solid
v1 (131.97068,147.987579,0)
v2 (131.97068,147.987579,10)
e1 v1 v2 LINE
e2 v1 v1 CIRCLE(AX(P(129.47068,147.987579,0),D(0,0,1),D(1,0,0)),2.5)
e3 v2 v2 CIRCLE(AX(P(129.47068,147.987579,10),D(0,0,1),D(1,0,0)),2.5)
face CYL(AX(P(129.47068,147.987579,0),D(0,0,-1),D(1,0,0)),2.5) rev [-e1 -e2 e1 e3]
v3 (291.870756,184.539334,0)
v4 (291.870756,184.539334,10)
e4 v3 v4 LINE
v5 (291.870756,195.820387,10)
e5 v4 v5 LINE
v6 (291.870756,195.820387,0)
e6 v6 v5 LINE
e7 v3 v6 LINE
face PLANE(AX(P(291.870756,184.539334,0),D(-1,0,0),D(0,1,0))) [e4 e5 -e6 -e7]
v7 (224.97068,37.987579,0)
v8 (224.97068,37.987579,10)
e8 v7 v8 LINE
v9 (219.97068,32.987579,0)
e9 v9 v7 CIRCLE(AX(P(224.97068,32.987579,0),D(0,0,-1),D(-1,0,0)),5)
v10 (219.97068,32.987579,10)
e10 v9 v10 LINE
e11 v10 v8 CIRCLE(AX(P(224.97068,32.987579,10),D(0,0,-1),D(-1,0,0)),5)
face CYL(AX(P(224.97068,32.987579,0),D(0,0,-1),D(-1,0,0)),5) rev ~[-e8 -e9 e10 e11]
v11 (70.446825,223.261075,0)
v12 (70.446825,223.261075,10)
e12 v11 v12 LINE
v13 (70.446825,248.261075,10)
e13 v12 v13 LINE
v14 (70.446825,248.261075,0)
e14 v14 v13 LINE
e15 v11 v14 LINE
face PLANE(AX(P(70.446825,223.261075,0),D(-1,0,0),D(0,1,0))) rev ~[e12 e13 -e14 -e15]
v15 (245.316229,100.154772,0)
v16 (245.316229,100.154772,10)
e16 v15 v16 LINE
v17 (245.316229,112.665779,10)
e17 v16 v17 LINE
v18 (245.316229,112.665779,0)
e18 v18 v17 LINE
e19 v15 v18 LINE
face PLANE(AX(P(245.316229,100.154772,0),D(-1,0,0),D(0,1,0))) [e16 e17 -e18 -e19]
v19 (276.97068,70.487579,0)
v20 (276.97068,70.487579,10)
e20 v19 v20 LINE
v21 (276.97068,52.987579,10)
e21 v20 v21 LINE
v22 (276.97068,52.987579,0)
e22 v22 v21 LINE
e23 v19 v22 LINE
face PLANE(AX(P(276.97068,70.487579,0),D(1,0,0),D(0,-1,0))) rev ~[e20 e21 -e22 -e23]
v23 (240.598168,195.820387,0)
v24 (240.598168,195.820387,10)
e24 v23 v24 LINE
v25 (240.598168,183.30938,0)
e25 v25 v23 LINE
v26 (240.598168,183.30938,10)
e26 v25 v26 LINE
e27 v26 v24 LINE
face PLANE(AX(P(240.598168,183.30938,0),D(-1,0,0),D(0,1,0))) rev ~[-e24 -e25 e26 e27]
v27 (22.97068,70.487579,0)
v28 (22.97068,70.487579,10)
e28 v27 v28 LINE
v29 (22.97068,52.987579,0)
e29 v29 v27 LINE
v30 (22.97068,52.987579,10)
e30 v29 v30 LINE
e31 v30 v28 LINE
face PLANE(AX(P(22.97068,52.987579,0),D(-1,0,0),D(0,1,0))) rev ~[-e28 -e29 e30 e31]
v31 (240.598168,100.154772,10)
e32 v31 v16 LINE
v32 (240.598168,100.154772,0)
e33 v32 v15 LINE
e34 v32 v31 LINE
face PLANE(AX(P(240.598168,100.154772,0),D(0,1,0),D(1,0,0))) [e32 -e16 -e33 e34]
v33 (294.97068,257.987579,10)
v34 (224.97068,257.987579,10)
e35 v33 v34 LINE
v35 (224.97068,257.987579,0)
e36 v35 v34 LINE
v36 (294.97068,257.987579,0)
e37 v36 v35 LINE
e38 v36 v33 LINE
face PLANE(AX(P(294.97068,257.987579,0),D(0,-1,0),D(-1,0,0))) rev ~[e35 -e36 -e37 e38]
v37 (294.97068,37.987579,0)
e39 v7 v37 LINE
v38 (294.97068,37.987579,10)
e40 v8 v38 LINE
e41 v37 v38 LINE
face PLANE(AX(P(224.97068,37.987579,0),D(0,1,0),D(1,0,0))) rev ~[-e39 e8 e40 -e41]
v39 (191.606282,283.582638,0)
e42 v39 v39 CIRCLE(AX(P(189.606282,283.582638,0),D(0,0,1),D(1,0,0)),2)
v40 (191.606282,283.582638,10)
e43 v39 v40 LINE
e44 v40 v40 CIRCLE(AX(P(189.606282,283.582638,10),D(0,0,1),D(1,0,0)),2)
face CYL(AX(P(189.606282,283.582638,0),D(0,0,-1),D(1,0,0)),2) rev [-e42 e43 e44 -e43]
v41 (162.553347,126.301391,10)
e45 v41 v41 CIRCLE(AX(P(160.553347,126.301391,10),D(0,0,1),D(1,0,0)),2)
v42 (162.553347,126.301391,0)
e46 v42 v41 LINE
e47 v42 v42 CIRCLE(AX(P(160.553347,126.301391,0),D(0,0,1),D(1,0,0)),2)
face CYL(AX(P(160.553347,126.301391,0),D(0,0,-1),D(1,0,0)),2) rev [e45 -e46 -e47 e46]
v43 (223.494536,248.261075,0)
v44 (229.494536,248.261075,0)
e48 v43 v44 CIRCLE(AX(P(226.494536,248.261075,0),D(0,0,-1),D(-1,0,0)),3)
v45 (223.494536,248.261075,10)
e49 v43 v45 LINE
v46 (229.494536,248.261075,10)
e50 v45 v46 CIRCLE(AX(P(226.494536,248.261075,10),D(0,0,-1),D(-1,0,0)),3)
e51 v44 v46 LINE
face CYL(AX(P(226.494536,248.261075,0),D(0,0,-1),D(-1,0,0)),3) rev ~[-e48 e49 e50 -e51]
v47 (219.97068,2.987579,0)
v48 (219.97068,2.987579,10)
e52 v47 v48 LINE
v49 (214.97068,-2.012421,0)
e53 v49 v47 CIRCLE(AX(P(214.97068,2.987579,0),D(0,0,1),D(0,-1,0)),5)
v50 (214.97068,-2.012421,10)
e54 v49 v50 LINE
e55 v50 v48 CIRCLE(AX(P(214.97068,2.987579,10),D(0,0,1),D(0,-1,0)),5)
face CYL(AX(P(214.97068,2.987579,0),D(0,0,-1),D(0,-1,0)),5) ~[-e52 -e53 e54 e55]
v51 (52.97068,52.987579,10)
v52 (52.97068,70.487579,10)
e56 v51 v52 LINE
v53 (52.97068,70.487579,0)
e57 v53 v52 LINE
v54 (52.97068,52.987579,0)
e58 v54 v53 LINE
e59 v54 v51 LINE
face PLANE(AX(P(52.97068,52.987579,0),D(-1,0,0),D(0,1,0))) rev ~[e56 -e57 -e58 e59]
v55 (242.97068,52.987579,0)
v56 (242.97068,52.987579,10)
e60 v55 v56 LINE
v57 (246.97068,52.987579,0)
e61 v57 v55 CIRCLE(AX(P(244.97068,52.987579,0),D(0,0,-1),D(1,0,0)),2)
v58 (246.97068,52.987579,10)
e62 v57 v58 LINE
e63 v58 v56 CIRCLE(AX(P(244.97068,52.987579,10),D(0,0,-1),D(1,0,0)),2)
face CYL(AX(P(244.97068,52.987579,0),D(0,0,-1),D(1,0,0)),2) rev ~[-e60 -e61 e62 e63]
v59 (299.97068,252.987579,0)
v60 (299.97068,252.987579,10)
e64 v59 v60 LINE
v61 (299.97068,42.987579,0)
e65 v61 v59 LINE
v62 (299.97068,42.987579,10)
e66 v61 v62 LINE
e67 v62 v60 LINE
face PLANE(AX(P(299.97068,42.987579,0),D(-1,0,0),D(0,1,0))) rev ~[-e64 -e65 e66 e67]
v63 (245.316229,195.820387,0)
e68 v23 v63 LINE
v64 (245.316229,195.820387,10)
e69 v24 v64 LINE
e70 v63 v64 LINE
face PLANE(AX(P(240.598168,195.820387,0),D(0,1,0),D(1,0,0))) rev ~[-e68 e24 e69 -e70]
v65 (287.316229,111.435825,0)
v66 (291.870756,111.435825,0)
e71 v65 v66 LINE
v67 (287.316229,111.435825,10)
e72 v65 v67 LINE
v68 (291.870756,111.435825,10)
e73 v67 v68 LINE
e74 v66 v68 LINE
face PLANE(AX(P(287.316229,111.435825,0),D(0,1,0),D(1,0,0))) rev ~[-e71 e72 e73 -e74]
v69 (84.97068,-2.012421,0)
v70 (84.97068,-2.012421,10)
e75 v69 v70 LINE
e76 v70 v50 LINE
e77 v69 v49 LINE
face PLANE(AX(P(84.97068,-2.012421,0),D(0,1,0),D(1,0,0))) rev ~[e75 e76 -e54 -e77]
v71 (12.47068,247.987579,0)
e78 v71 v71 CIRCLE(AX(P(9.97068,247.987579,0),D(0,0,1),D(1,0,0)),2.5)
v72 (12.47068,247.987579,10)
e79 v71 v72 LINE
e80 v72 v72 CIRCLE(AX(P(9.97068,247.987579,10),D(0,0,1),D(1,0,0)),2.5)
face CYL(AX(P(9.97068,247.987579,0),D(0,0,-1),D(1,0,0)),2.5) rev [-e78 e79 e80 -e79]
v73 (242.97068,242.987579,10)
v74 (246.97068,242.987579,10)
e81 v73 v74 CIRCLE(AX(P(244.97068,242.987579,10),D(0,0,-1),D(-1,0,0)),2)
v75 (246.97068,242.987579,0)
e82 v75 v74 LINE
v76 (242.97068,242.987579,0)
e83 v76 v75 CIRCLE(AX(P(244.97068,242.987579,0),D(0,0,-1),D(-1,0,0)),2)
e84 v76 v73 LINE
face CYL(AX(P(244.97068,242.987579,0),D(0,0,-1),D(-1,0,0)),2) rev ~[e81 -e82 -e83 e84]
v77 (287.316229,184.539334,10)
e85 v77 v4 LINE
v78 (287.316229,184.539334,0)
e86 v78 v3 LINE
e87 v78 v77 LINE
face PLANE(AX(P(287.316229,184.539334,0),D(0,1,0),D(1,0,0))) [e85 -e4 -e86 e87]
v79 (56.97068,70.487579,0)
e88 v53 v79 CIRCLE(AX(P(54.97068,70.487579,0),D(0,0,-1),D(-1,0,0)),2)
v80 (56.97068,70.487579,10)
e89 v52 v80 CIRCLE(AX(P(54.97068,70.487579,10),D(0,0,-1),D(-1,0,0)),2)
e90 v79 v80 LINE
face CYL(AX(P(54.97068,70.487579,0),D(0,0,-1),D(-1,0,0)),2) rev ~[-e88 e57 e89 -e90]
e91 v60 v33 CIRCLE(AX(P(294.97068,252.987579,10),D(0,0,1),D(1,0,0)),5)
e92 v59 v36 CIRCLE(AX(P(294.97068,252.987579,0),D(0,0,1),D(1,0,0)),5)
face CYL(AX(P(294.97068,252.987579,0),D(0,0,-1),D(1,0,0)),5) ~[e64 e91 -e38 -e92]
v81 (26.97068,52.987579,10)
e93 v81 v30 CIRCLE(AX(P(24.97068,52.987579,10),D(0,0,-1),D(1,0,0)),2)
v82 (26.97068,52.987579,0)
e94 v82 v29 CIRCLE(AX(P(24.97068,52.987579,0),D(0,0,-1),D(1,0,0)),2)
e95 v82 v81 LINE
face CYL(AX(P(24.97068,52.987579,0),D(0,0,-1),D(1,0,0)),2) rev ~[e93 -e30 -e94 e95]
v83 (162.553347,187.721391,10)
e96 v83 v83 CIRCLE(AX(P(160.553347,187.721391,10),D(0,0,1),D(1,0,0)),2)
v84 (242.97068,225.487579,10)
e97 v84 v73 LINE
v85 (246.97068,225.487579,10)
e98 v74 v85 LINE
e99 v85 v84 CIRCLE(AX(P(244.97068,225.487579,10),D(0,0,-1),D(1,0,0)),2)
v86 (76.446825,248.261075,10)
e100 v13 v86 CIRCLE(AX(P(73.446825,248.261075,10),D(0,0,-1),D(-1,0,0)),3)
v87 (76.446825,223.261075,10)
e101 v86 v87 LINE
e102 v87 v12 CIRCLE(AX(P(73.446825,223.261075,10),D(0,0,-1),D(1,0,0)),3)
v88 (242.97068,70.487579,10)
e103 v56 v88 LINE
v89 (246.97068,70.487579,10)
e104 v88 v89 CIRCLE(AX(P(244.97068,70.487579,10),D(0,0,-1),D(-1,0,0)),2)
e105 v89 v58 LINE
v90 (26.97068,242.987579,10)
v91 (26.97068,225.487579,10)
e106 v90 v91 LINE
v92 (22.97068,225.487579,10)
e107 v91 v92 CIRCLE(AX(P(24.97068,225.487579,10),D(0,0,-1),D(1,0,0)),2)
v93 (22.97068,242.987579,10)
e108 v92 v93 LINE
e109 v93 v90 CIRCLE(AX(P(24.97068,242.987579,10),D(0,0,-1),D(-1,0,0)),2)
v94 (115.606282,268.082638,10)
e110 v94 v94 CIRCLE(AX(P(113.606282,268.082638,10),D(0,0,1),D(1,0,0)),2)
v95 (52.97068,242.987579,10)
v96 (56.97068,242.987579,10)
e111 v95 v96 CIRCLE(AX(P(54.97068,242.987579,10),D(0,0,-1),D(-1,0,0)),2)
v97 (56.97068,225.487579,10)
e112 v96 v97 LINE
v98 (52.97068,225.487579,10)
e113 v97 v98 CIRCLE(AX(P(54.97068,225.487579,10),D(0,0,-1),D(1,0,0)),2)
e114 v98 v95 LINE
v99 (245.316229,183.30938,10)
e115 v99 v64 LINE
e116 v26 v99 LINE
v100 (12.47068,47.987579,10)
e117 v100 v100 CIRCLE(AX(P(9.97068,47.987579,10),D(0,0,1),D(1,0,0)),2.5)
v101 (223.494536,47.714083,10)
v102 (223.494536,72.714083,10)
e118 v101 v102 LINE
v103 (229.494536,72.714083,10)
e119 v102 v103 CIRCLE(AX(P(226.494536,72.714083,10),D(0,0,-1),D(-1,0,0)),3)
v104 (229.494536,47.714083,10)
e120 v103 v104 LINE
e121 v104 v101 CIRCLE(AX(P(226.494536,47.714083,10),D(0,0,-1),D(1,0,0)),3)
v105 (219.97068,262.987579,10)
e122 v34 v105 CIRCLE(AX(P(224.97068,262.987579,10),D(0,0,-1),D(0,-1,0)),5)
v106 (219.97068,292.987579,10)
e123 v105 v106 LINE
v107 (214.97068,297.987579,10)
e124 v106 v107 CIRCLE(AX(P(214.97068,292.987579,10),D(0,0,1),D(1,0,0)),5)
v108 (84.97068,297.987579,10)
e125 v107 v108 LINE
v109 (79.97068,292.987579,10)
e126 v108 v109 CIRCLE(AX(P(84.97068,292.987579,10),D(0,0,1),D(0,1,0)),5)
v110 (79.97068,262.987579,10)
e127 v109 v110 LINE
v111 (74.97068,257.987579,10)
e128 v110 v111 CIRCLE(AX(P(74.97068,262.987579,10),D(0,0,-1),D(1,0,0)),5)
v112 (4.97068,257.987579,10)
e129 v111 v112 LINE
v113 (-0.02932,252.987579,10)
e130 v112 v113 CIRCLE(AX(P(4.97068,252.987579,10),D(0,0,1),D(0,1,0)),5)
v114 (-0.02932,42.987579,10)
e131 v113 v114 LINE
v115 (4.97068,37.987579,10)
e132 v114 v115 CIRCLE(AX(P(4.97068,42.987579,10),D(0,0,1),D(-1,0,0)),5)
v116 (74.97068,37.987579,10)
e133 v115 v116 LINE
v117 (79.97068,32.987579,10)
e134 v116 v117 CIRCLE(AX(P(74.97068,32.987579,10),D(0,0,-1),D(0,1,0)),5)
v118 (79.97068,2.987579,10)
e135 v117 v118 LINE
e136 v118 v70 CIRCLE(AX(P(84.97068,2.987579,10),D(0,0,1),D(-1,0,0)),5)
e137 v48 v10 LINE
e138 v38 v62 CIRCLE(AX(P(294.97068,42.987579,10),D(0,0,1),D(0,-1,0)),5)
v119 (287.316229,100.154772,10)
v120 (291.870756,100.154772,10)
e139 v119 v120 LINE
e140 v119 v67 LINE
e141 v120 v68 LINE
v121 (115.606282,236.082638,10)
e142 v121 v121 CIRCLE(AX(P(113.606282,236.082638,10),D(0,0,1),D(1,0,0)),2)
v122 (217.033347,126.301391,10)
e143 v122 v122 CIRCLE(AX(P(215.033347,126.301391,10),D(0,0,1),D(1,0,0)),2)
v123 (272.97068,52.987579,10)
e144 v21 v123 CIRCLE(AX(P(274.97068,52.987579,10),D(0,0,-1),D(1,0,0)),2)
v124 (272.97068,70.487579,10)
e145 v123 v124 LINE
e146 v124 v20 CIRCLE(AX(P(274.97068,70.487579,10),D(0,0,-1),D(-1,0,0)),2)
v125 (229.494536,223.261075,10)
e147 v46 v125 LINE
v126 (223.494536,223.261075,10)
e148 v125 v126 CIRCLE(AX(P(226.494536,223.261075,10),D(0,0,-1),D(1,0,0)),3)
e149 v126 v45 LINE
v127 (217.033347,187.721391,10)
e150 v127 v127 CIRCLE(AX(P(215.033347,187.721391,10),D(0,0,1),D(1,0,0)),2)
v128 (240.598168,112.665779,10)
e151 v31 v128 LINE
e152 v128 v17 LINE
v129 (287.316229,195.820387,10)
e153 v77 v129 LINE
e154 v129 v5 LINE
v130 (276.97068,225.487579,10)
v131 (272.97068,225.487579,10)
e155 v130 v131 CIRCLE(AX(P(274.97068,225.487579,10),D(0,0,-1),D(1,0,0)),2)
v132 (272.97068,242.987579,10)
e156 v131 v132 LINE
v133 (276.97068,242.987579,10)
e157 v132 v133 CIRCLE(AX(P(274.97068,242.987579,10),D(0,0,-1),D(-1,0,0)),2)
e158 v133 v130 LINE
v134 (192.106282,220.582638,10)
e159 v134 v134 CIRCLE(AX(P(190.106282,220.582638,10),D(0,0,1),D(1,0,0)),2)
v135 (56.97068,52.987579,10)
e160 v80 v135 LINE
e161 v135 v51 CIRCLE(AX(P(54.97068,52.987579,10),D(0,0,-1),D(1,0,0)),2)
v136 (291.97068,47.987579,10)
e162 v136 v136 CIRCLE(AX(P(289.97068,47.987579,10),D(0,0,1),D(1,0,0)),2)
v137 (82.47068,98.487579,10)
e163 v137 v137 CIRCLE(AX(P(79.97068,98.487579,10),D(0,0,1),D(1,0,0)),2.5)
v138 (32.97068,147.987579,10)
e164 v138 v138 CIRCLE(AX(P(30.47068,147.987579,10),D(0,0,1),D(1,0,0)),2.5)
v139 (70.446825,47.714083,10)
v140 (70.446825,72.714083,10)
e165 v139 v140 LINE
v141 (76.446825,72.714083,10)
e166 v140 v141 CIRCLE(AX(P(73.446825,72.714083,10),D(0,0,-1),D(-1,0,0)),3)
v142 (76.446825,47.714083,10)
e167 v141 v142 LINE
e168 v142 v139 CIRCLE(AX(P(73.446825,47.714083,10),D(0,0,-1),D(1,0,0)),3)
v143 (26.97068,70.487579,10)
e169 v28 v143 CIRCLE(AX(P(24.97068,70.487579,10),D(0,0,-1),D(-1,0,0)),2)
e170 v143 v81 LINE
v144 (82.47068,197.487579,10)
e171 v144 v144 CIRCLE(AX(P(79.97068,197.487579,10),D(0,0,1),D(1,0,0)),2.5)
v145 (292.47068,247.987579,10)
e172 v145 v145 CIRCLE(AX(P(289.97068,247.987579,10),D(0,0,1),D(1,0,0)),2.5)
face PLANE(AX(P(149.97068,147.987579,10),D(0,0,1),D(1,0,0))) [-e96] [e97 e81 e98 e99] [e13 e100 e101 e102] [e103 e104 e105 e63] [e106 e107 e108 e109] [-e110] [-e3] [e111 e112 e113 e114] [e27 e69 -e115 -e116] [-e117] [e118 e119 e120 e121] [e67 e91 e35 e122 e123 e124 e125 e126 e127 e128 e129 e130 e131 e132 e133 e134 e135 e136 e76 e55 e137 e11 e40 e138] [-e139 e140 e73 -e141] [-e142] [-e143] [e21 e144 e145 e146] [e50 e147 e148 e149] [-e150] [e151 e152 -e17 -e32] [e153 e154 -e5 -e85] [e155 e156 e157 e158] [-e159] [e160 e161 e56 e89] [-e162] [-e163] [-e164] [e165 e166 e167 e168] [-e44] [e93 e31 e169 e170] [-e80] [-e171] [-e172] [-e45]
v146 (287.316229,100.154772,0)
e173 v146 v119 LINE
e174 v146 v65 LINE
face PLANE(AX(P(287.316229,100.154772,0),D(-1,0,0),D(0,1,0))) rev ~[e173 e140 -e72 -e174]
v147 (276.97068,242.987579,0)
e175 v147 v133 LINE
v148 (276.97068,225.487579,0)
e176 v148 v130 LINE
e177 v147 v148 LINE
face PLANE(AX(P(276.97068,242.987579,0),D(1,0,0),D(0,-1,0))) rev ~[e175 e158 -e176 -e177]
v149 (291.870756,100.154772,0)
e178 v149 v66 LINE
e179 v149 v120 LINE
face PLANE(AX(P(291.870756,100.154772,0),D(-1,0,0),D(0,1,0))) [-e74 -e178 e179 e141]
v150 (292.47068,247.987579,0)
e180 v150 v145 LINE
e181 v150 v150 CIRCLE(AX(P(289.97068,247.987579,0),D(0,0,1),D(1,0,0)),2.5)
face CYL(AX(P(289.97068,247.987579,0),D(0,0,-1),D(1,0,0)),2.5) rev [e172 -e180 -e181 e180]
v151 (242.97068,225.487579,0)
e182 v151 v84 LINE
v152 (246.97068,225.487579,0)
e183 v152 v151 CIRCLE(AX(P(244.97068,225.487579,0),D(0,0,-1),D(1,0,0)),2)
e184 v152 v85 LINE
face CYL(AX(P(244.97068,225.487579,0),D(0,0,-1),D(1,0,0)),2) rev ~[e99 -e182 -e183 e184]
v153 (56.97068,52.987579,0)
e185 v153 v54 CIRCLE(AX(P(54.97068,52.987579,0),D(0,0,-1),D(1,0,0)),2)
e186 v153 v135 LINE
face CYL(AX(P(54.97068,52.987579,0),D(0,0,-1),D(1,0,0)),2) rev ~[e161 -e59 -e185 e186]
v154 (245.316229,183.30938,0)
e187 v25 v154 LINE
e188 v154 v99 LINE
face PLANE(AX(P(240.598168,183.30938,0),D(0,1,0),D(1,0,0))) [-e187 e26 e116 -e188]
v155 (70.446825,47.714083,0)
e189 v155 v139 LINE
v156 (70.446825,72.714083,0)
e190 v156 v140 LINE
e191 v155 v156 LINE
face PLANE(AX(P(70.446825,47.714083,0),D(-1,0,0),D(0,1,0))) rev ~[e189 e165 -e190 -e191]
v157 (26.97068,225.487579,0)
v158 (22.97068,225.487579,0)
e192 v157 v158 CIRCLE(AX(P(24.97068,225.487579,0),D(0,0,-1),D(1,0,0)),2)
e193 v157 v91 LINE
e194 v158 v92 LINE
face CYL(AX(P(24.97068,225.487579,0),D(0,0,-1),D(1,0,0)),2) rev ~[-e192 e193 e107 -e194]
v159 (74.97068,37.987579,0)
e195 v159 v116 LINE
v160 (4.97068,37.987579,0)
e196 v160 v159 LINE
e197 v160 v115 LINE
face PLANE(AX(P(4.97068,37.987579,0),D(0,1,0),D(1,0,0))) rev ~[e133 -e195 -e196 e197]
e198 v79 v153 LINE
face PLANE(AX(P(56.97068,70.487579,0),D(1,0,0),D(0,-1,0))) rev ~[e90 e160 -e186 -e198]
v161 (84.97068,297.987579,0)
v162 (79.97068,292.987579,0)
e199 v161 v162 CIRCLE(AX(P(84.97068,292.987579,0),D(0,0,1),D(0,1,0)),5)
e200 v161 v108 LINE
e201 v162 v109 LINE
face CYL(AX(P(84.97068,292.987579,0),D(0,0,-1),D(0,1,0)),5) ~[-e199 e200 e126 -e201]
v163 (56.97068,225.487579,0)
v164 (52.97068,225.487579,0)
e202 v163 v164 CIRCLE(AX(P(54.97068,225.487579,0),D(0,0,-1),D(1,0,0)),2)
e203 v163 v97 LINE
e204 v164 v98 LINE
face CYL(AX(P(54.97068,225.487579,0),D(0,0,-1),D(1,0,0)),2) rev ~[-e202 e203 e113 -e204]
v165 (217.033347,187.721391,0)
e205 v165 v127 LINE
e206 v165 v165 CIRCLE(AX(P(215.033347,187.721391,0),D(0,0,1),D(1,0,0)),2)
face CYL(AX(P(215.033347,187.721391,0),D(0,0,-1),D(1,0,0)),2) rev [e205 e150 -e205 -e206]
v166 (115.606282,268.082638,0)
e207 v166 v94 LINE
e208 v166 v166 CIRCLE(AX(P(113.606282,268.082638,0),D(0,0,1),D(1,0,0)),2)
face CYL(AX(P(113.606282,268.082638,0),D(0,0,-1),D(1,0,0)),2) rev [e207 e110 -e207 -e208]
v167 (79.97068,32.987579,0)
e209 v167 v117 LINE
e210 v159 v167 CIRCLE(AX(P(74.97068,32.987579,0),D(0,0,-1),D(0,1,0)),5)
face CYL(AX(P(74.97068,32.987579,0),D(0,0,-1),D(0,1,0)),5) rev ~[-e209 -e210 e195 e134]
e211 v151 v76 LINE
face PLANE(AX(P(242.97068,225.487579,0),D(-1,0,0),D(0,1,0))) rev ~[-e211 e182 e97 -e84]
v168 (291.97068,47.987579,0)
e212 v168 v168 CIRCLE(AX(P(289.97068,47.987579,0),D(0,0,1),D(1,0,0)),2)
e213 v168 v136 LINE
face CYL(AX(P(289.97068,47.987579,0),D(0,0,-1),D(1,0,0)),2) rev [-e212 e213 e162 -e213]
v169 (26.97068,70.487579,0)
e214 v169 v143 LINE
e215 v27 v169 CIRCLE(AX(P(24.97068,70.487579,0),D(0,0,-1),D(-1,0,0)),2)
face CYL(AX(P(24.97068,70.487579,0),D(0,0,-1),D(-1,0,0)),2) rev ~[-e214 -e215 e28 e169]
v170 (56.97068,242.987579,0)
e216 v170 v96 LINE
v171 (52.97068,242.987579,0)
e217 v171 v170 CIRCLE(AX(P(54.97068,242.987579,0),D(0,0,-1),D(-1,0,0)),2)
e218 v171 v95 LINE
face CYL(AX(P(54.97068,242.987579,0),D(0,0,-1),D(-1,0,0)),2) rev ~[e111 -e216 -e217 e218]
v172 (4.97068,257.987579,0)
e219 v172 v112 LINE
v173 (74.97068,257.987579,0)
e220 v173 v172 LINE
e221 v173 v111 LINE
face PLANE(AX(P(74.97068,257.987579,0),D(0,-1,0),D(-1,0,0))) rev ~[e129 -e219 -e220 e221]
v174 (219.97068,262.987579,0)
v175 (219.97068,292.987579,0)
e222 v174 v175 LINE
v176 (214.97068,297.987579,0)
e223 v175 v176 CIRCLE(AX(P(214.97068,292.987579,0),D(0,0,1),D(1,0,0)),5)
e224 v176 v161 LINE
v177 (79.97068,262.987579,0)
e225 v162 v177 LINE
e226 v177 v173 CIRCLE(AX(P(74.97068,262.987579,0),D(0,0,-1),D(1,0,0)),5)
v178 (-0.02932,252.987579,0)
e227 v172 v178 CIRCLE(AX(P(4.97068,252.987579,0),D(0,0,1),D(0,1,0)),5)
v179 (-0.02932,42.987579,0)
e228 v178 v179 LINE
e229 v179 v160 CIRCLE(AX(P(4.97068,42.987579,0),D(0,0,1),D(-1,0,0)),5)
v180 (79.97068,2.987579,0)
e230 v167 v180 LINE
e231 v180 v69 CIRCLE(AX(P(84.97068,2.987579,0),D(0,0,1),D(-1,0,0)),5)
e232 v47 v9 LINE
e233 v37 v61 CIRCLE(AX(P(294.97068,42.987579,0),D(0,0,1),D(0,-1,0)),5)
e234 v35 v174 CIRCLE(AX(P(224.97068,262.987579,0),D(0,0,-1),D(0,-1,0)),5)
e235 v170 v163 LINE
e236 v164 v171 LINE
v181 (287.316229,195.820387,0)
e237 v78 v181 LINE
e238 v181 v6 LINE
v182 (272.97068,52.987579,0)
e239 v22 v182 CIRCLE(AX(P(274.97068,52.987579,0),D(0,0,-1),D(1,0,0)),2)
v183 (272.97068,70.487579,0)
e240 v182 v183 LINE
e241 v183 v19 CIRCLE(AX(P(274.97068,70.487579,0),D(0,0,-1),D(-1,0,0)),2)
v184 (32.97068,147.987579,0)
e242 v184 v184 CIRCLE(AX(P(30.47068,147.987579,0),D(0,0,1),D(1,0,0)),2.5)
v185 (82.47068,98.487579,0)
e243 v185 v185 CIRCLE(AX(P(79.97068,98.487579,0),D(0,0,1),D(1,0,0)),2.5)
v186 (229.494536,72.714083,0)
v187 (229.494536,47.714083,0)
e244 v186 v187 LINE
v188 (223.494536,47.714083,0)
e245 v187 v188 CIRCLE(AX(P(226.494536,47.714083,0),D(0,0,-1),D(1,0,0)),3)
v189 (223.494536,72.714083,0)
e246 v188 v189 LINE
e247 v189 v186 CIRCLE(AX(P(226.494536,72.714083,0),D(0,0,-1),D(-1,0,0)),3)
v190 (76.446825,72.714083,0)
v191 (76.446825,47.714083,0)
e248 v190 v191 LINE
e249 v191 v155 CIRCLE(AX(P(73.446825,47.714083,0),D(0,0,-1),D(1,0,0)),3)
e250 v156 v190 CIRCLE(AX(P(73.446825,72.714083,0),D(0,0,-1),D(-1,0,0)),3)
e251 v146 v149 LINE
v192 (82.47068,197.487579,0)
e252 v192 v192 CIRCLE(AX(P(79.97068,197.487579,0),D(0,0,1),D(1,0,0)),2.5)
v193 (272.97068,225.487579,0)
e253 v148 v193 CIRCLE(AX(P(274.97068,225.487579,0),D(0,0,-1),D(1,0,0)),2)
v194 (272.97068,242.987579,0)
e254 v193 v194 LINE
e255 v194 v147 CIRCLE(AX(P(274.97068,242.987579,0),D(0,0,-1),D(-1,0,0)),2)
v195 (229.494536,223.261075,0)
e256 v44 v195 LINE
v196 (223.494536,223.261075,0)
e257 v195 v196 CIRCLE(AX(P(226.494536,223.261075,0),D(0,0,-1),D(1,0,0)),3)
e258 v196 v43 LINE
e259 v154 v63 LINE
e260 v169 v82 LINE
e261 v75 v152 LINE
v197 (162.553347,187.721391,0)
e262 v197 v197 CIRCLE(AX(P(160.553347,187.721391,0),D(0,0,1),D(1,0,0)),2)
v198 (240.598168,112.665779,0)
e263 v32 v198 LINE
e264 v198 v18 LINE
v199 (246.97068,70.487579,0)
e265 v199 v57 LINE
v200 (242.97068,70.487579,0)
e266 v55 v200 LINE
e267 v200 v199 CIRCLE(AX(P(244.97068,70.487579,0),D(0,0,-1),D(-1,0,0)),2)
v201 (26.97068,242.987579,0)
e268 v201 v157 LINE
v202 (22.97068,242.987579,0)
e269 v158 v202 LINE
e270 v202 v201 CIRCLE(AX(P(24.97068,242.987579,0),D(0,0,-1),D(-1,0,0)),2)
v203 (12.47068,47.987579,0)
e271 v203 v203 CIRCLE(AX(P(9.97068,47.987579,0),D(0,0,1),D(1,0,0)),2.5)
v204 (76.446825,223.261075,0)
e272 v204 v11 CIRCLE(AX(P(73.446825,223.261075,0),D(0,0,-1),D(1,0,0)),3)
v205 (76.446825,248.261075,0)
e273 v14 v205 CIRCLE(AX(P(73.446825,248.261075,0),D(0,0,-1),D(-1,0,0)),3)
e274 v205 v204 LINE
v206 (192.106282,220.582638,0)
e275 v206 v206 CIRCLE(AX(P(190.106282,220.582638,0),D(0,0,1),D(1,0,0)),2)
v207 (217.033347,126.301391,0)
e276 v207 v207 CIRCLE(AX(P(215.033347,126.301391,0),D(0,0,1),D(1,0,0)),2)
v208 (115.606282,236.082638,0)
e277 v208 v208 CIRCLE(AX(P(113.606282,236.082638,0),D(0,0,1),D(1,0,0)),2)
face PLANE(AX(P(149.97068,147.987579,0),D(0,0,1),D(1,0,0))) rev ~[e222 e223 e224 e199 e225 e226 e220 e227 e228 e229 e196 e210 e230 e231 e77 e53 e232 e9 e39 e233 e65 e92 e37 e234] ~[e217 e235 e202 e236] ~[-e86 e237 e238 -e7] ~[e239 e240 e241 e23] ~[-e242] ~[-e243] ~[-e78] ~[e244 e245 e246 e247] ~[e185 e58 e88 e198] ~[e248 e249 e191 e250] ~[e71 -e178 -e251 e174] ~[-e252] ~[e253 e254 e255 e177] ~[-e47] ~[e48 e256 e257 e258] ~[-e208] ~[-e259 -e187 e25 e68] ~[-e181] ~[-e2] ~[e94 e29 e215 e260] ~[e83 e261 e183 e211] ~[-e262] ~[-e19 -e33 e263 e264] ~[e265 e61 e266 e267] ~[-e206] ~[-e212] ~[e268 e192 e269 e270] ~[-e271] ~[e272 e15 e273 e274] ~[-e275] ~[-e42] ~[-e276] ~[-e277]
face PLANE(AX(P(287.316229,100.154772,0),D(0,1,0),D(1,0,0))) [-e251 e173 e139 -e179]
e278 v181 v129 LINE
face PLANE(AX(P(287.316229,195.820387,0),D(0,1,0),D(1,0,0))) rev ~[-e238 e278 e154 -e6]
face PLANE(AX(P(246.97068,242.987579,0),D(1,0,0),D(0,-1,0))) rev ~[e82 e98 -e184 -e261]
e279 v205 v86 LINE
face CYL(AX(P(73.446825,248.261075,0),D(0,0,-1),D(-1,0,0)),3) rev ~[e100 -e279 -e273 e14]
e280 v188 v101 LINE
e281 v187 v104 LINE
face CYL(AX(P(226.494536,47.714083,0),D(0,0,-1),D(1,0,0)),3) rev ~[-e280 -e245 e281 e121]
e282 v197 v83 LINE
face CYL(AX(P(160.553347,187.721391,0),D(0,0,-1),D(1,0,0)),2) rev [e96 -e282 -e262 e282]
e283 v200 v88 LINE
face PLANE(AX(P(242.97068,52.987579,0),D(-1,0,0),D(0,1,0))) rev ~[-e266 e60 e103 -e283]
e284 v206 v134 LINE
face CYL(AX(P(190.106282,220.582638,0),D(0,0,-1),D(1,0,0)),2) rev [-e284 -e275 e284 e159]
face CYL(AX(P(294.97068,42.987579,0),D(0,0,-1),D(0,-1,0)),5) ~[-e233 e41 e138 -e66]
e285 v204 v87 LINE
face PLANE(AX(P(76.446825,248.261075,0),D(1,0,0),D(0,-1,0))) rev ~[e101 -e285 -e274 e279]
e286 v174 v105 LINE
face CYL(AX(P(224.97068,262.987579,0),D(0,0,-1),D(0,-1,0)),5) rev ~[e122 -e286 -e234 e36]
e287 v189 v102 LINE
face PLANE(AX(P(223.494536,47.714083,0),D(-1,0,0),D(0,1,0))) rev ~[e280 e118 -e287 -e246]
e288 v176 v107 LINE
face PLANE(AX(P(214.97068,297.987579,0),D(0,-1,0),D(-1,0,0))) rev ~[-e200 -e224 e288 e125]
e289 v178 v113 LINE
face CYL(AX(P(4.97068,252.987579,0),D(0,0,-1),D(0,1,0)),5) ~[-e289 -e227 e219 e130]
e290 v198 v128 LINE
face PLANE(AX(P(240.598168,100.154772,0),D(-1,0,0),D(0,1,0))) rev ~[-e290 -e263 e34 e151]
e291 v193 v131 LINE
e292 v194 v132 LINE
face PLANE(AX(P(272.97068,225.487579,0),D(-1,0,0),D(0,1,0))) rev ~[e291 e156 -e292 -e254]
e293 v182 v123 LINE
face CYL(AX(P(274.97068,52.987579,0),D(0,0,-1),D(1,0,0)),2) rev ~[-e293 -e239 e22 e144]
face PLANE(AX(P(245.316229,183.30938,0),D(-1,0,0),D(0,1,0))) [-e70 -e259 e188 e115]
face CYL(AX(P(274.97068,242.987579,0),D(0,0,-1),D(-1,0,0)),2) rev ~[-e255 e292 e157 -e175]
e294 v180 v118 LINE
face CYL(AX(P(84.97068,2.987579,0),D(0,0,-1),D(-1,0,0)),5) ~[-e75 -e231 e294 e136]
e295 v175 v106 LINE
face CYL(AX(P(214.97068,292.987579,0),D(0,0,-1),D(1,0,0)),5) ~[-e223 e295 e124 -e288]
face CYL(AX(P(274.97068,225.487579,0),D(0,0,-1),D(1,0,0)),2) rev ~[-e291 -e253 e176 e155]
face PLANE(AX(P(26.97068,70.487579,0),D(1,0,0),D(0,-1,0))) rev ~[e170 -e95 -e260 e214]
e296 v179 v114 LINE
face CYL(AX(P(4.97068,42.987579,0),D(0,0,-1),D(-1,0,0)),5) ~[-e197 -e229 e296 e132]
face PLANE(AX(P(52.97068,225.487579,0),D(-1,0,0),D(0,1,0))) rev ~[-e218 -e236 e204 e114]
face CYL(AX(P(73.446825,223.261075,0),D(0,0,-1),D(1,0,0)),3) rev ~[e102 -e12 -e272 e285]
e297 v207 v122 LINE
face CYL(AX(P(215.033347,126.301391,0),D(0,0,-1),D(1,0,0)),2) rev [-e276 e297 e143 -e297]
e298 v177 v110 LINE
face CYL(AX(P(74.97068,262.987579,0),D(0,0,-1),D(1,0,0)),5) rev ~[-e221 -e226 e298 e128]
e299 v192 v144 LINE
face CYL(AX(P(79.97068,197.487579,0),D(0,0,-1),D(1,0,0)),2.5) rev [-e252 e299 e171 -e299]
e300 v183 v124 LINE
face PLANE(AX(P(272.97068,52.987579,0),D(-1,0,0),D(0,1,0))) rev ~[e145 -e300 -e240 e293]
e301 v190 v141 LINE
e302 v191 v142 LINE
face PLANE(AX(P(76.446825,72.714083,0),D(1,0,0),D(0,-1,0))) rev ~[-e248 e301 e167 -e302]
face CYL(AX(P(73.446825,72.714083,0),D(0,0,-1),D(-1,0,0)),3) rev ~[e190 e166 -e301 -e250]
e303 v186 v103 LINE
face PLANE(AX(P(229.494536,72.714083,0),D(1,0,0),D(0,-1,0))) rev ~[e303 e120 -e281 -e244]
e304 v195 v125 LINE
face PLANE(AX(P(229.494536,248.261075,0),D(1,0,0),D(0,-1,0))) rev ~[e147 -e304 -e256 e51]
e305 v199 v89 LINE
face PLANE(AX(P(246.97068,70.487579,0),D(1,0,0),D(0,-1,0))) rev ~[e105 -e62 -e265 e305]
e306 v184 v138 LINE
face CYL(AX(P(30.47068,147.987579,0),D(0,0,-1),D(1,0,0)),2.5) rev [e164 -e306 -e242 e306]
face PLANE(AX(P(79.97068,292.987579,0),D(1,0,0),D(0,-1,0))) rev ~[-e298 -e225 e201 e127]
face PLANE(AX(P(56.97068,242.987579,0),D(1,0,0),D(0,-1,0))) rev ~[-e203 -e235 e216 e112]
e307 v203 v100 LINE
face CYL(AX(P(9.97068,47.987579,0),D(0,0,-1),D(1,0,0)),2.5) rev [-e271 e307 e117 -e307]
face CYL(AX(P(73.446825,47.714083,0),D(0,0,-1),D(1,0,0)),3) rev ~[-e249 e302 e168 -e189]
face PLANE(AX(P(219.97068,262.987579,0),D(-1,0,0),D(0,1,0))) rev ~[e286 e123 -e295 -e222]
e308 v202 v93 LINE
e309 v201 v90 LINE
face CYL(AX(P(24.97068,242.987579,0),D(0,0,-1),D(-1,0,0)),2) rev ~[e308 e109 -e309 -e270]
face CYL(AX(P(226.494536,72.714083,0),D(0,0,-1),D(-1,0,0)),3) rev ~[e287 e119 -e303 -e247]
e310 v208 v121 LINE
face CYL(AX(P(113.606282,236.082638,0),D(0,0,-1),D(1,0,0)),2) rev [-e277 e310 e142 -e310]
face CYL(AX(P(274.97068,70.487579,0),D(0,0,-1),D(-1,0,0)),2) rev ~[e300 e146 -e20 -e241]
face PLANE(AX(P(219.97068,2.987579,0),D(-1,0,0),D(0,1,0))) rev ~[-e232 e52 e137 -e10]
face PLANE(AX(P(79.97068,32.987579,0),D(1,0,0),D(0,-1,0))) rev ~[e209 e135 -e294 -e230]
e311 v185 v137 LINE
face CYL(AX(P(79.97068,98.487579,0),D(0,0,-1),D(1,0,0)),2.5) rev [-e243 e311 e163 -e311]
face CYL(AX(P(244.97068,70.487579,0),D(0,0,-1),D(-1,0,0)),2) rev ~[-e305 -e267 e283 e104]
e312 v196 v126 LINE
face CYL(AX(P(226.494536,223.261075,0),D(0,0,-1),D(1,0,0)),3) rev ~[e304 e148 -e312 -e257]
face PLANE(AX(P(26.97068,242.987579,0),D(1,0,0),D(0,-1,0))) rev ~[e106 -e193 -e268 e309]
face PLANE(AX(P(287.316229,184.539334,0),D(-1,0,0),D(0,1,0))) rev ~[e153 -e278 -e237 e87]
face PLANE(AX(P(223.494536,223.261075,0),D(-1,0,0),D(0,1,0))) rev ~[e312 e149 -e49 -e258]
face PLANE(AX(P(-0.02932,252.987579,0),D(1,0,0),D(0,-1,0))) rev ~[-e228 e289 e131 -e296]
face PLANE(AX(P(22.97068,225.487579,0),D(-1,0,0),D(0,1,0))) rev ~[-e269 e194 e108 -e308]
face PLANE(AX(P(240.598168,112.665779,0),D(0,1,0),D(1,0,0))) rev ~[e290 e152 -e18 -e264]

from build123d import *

# Parameters (mm, degrees)
SKETCH_1_R      = 2.5
SKETCH_1_R_2    = 2
SKETCH_1_W      = 4.718060626
SKETCH_1_H      = 12.511006694
SKETCH_1_W_2    = 4.554527511
SKETCH_1_H_2    = 11.281053154
SKETCH_1_H_3    = 12.511006695
SKETCH_1_H_4    = 11.281053155
EXTRUDE_1_DEPTH = 10


with BuildPart() as part:
    # 草图1 → 凸台-拉伸1 (new body)
    with BuildSketch(Plane.XY):
        with BuildLine():
            ThreePointArc((79.970680431, 2.987579423), (81.435146525, -0.547954483), (84.970680431, -2.012420577))
            Line((84.970680431, -2.012420577), (214.970680431, -2.012420577))
            ThreePointArc((214.970680431, -2.012420577), (218.506214337, -0.547954483), (219.970680431, 2.987579423))
            Line((219.970680431, 2.987579423), (219.970680431, 32.987579423))
            ThreePointArc((219.970680431, 32.987579423), (221.435146525, 36.523113329), (224.970680431, 37.987579423))
            Line((224.970680431, 37.987579423), (294.970680431, 37.987579423))
            ThreePointArc((294.970680431, 37.987579423), (298.506214337, 39.452045517), (299.970680431, 42.987579423))
            Line((299.970680431, 42.987579423), (299.970680431, 252.987579423))
            ThreePointArc((299.970680431, 252.987579423), (298.506214337, 256.523113329), (294.970680431, 257.987579423))
            Line((294.970680431, 257.987579423), (224.970680431, 257.987579423))
            ThreePointArc((224.970680431, 257.987579423), (221.435146525, 259.452045517), (219.970680431, 262.987579423))
            Line((219.970680431, 262.987579423), (219.970680431, 292.987579423))
            ThreePointArc((219.970680431, 292.987579423), (218.506214337, 296.523113329), (214.970680431, 297.987579423))
            Line((214.970680431, 297.987579423), (84.970680431, 297.987579423))
            ThreePointArc((84.970680431, 297.987579423), (81.435146525, 296.523113329), (79.970680431, 292.987579423))
            Line((79.970680431, 292.987579423), (79.970680431, 262.987579423))
            ThreePointArc((79.970680431, 262.987579423), (78.506214337, 259.452045517), (74.970680431, 257.987579423))
            Line((74.970680431, 257.987579423), (4.970680431, 257.987579423))
            ThreePointArc((4.970680431, 257.987579423), (1.435146525, 256.523113329), (-0.029319569, 252.987579423))
            Line((-0.029319569, 252.987579423), (-0.029319569, 42.987579423))
            ThreePointArc((-0.029319569, 42.987579423), (1.435146525, 39.452045517), (4.970680431, 37.987579423))
            Line((4.970680431, 37.987579423), (74.970680431, 37.987579423))
            ThreePointArc((74.970680431, 37.987579423), (78.506214337, 36.523113329), (79.970680431, 32.987579423))
            Line((79.970680431, 32.987579423), (79.970680431, 2.987579423))
        make_face()
        with Locations((9.970680431, 47.987579423)):
            Circle(SKETCH_1_R, mode=Mode.SUBTRACT)
        with BuildLine():
            ThreePointArc((22.970680431, 70.487579423), (24.970680431, 72.487579423), (26.970680431, 70.487579423))
            Line((26.970680431, 70.487579423), (26.970680431, 52.987579423))
            ThreePointArc((26.970680431, 52.987579423), (24.970680431, 50.987579423), (22.970680431, 52.987579423))
            Line((22.970680431, 52.987579423), (22.970680431, 70.487579423))
        make_face(mode=Mode.SUBTRACT)
        with BuildLine():
            ThreePointArc((52.970680431, 70.487579423), (54.970680431, 72.487579423), (56.970680431, 70.487579423))
            Line((56.970680431, 70.487579423), (56.970680431, 52.987579423))
            ThreePointArc((56.970680431, 52.987579423), (54.970680431, 50.987579423), (52.970680431, 52.987579423))
            Line((52.970680431, 52.987579423), (52.970680431, 70.487579423))
        make_face(mode=Mode.SUBTRACT)
        with BuildLine():
            ThreePointArc((76.446824756, 47.714083435), (73.446824756, 44.714083435), (70.446824756, 47.714083435))
            Line((70.446824756, 47.714083435), (70.446824756, 72.714083435))
            ThreePointArc((70.446824756, 72.714083435), (73.446824756, 75.714083435), (76.446824756, 72.714083435))
            Line((76.446824756, 72.714083435), (76.446824756, 47.714083435))
        make_face(mode=Mode.SUBTRACT)
        with Locations((30.470680431, 147.987579423)):
            Circle(SKETCH_1_R, mode=Mode.SUBTRACT)
        with Locations((79.970680431, 98.487579423)):
            Circle(SKETCH_1_R, mode=Mode.SUBTRACT)
        with Locations((129.470680431, 147.987579423)):
            Circle(SKETCH_1_R, mode=Mode.SUBTRACT)
        with BuildLine():
            Line((229.494536105, 72.714083435), (229.494536105, 47.714083435))
            ThreePointArc((229.494536105, 47.714083435), (226.494536105, 44.714083435), (223.494536105, 47.714083435))
            Line((223.494536105, 47.714083435), (223.494536105, 72.714083435))
            ThreePointArc((223.494536105, 72.714083435), (226.494536105, 75.714083435), (229.494536105, 72.714083435))
        make_face(mode=Mode.SUBTRACT)
        with BuildLine():
            ThreePointArc((242.970680431, 70.487579423), (244.970680431, 72.487579423), (246.970680431, 70.487579423))
            Line((246.970680431, 70.487579423), (246.970680431, 52.987579423))
            ThreePointArc((246.970680431, 52.987579423), (244.970680431, 50.987579423), (242.970680431, 52.987579423))
            Line((242.970680431, 52.987579423), (242.970680431, 70.487579423))
        make_face(mode=Mode.SUBTRACT)
        with Locations((289.970680431, 47.987579423)):
            Circle(SKETCH_1_R_2, mode=Mode.SUBTRACT)
        with BuildLine():
            ThreePointArc((276.970680431, 52.987579423), (274.970680431, 50.987579423), (272.970680431, 52.987579423))
            Line((272.970680431, 52.987579423), (272.970680431, 70.487579423))
            ThreePointArc((272.970680431, 70.487579423), (274.970680431, 72.487579423), (276.970680431, 70.487579423))
            Line((276.970680431, 70.487579423), (276.970680431, 52.987579423))
        make_face(mode=Mode.SUBTRACT)
        with Locations((160.553347356, 126.301390813)):
            Circle(SKETCH_1_R_2, mode=Mode.SUBTRACT)
        with Locations((215.033347356, 126.301390813)):
            Circle(SKETCH_1_R_2, mode=Mode.SUBTRACT)
        with Locations((242.957198236, 106.410275276)):
            Rectangle(SKETCH_1_W, SKETCH_1_H, mode=Mode.SUBTRACT)
        with Locations((289.593492305, 105.795298506)):
            Rectangle(SKETCH_1_W_2, SKETCH_1_H_2, mode=Mode.SUBTRACT)
        with Locations((79.970680431, 197.487579423)):
            Circle(SKETCH_1_R, mode=Mode.SUBTRACT)
        with BuildLine():
            Line((26.970680431, 242.987579423), (26.970680431, 225.487579423))
            ThreePointArc((26.970680431, 225.487579423), (24.970680431, 223.487579423), (22.970680431, 225.487579423))
            Line((22.970680431, 225.487579423), (22.970680431, 242.987579423))
            ThreePointArc((22.970680431, 242.987579423), (24.970680431, 244.987579423), (26.970680431, 242.987579423))
        make_face(mode=Mode.SUBTRACT)
        with Locations((9.970680431, 247.987579423)):
            Circle(SKETCH_1_R, mode=Mode.SUBTRACT)
        with BuildLine():
            Line((56.970680431, 242.987579423), (56.970680431, 225.487579423))
            ThreePointArc((56.970680431, 225.487579423), (54.970680431, 223.487579423), (52.970680431, 225.487579423))
            Line((52.970680431, 225.487579423), (52.970680431, 242.987579423))
            ThreePointArc((52.970680431, 242.987579423), (54.970680431, 244.987579423), (56.970680431, 242.987579423))
        make_face(mode=Mode.SUBTRACT)
        with BuildLine():
            Line((70.446824756, 223.261075411), (70.446824756, 248.261075411))
            ThreePointArc((70.446824756, 248.261075411), (73.446824756, 251.261075411), (76.446824756, 248.261075411))
            Line((76.446824756, 248.261075411), (76.446824756, 223.261075411))
            ThreePointArc((76.446824756, 223.261075411), (73.446824756, 220.261075411), (70.446824756, 223.261075411))
        make_face(mode=Mode.SUBTRACT)
        with Locations((113.606281629, 236.082638095)):
            Circle(SKETCH_1_R_2, mode=Mode.SUBTRACT)
        with Locations((113.606281629, 268.082638095)):
            Circle(SKETCH_1_R_2, mode=Mode.SUBTRACT)
        with Locations((160.553347356, 187.721390813)):
            Circle(SKETCH_1_R_2, mode=Mode.SUBTRACT)
        with Locations((215.033347356, 187.721390813)):
            Circle(SKETCH_1_R_2, mode=Mode.SUBTRACT)
        with Locations((190.106281629, 220.582638095)):
            Circle(SKETCH_1_R_2, mode=Mode.SUBTRACT)
        with Locations((242.957198236, 189.56488357)):
            Rectangle(SKETCH_1_W, SKETCH_1_H_3, mode=Mode.SUBTRACT)
        with Locations((289.593492305, 190.17986034)):
            Rectangle(SKETCH_1_W_2, SKETCH_1_H_4, mode=Mode.SUBTRACT)
        with Locations((189.606281629, 283.582638095)):
            Circle(SKETCH_1_R_2, mode=Mode.SUBTRACT)
        with BuildLine():
            ThreePointArc((223.494536105, 248.261075411), (226.494536105, 251.261075411), (229.494536105, 248.261075411))
            Line((229.494536105, 248.261075411), (229.494536105, 223.261075411))
            ThreePointArc((229.494536105, 223.261075411), (226.494536105, 220.261075411), (223.494536105, 223.261075411))
            Line((223.494536105, 223.261075411), (223.494536105, 248.261075411))
        make_face(mode=Mode.SUBTRACT)
        with BuildLine():
            Line((246.970680431, 242.987579423), (246.970680431, 225.487579423))
            ThreePointArc((246.970680431, 225.487579423), (244.970680431, 223.487579423), (242.970680431, 225.487579423))
            Line((242.970680431, 225.487579423), (242.970680431, 242.987579423))
            ThreePointArc((242.970680431, 242.987579423), (244.970680431, 244.987579423), (246.970680431, 242.987579423))
        make_face(mode=Mode.SUBTRACT)
        with BuildLine():
            Line((272.970680431, 225.487579423), (272.970680431, 242.987579423))
            ThreePointArc((272.970680431, 242.987579423), (274.970680431, 244.987579423), (276.970680431, 242.987579423))
            Line((276.970680431, 242.987579423), (276.970680431, 225.487579423))
            ThreePointArc((276.970680431, 225.487579423), (274.970680431, 223.487579423), (272.970680431, 225.487579423))
        make_face(mode=Mode.SUBTRACT)
        with Locations((289.970680431, 247.987579423)):
            Circle(SKETCH_1_R, mode=Mode.SUBTRACT)
    extrude(amount=EXTRUDE_1_DEPTH)


solid = part.part
